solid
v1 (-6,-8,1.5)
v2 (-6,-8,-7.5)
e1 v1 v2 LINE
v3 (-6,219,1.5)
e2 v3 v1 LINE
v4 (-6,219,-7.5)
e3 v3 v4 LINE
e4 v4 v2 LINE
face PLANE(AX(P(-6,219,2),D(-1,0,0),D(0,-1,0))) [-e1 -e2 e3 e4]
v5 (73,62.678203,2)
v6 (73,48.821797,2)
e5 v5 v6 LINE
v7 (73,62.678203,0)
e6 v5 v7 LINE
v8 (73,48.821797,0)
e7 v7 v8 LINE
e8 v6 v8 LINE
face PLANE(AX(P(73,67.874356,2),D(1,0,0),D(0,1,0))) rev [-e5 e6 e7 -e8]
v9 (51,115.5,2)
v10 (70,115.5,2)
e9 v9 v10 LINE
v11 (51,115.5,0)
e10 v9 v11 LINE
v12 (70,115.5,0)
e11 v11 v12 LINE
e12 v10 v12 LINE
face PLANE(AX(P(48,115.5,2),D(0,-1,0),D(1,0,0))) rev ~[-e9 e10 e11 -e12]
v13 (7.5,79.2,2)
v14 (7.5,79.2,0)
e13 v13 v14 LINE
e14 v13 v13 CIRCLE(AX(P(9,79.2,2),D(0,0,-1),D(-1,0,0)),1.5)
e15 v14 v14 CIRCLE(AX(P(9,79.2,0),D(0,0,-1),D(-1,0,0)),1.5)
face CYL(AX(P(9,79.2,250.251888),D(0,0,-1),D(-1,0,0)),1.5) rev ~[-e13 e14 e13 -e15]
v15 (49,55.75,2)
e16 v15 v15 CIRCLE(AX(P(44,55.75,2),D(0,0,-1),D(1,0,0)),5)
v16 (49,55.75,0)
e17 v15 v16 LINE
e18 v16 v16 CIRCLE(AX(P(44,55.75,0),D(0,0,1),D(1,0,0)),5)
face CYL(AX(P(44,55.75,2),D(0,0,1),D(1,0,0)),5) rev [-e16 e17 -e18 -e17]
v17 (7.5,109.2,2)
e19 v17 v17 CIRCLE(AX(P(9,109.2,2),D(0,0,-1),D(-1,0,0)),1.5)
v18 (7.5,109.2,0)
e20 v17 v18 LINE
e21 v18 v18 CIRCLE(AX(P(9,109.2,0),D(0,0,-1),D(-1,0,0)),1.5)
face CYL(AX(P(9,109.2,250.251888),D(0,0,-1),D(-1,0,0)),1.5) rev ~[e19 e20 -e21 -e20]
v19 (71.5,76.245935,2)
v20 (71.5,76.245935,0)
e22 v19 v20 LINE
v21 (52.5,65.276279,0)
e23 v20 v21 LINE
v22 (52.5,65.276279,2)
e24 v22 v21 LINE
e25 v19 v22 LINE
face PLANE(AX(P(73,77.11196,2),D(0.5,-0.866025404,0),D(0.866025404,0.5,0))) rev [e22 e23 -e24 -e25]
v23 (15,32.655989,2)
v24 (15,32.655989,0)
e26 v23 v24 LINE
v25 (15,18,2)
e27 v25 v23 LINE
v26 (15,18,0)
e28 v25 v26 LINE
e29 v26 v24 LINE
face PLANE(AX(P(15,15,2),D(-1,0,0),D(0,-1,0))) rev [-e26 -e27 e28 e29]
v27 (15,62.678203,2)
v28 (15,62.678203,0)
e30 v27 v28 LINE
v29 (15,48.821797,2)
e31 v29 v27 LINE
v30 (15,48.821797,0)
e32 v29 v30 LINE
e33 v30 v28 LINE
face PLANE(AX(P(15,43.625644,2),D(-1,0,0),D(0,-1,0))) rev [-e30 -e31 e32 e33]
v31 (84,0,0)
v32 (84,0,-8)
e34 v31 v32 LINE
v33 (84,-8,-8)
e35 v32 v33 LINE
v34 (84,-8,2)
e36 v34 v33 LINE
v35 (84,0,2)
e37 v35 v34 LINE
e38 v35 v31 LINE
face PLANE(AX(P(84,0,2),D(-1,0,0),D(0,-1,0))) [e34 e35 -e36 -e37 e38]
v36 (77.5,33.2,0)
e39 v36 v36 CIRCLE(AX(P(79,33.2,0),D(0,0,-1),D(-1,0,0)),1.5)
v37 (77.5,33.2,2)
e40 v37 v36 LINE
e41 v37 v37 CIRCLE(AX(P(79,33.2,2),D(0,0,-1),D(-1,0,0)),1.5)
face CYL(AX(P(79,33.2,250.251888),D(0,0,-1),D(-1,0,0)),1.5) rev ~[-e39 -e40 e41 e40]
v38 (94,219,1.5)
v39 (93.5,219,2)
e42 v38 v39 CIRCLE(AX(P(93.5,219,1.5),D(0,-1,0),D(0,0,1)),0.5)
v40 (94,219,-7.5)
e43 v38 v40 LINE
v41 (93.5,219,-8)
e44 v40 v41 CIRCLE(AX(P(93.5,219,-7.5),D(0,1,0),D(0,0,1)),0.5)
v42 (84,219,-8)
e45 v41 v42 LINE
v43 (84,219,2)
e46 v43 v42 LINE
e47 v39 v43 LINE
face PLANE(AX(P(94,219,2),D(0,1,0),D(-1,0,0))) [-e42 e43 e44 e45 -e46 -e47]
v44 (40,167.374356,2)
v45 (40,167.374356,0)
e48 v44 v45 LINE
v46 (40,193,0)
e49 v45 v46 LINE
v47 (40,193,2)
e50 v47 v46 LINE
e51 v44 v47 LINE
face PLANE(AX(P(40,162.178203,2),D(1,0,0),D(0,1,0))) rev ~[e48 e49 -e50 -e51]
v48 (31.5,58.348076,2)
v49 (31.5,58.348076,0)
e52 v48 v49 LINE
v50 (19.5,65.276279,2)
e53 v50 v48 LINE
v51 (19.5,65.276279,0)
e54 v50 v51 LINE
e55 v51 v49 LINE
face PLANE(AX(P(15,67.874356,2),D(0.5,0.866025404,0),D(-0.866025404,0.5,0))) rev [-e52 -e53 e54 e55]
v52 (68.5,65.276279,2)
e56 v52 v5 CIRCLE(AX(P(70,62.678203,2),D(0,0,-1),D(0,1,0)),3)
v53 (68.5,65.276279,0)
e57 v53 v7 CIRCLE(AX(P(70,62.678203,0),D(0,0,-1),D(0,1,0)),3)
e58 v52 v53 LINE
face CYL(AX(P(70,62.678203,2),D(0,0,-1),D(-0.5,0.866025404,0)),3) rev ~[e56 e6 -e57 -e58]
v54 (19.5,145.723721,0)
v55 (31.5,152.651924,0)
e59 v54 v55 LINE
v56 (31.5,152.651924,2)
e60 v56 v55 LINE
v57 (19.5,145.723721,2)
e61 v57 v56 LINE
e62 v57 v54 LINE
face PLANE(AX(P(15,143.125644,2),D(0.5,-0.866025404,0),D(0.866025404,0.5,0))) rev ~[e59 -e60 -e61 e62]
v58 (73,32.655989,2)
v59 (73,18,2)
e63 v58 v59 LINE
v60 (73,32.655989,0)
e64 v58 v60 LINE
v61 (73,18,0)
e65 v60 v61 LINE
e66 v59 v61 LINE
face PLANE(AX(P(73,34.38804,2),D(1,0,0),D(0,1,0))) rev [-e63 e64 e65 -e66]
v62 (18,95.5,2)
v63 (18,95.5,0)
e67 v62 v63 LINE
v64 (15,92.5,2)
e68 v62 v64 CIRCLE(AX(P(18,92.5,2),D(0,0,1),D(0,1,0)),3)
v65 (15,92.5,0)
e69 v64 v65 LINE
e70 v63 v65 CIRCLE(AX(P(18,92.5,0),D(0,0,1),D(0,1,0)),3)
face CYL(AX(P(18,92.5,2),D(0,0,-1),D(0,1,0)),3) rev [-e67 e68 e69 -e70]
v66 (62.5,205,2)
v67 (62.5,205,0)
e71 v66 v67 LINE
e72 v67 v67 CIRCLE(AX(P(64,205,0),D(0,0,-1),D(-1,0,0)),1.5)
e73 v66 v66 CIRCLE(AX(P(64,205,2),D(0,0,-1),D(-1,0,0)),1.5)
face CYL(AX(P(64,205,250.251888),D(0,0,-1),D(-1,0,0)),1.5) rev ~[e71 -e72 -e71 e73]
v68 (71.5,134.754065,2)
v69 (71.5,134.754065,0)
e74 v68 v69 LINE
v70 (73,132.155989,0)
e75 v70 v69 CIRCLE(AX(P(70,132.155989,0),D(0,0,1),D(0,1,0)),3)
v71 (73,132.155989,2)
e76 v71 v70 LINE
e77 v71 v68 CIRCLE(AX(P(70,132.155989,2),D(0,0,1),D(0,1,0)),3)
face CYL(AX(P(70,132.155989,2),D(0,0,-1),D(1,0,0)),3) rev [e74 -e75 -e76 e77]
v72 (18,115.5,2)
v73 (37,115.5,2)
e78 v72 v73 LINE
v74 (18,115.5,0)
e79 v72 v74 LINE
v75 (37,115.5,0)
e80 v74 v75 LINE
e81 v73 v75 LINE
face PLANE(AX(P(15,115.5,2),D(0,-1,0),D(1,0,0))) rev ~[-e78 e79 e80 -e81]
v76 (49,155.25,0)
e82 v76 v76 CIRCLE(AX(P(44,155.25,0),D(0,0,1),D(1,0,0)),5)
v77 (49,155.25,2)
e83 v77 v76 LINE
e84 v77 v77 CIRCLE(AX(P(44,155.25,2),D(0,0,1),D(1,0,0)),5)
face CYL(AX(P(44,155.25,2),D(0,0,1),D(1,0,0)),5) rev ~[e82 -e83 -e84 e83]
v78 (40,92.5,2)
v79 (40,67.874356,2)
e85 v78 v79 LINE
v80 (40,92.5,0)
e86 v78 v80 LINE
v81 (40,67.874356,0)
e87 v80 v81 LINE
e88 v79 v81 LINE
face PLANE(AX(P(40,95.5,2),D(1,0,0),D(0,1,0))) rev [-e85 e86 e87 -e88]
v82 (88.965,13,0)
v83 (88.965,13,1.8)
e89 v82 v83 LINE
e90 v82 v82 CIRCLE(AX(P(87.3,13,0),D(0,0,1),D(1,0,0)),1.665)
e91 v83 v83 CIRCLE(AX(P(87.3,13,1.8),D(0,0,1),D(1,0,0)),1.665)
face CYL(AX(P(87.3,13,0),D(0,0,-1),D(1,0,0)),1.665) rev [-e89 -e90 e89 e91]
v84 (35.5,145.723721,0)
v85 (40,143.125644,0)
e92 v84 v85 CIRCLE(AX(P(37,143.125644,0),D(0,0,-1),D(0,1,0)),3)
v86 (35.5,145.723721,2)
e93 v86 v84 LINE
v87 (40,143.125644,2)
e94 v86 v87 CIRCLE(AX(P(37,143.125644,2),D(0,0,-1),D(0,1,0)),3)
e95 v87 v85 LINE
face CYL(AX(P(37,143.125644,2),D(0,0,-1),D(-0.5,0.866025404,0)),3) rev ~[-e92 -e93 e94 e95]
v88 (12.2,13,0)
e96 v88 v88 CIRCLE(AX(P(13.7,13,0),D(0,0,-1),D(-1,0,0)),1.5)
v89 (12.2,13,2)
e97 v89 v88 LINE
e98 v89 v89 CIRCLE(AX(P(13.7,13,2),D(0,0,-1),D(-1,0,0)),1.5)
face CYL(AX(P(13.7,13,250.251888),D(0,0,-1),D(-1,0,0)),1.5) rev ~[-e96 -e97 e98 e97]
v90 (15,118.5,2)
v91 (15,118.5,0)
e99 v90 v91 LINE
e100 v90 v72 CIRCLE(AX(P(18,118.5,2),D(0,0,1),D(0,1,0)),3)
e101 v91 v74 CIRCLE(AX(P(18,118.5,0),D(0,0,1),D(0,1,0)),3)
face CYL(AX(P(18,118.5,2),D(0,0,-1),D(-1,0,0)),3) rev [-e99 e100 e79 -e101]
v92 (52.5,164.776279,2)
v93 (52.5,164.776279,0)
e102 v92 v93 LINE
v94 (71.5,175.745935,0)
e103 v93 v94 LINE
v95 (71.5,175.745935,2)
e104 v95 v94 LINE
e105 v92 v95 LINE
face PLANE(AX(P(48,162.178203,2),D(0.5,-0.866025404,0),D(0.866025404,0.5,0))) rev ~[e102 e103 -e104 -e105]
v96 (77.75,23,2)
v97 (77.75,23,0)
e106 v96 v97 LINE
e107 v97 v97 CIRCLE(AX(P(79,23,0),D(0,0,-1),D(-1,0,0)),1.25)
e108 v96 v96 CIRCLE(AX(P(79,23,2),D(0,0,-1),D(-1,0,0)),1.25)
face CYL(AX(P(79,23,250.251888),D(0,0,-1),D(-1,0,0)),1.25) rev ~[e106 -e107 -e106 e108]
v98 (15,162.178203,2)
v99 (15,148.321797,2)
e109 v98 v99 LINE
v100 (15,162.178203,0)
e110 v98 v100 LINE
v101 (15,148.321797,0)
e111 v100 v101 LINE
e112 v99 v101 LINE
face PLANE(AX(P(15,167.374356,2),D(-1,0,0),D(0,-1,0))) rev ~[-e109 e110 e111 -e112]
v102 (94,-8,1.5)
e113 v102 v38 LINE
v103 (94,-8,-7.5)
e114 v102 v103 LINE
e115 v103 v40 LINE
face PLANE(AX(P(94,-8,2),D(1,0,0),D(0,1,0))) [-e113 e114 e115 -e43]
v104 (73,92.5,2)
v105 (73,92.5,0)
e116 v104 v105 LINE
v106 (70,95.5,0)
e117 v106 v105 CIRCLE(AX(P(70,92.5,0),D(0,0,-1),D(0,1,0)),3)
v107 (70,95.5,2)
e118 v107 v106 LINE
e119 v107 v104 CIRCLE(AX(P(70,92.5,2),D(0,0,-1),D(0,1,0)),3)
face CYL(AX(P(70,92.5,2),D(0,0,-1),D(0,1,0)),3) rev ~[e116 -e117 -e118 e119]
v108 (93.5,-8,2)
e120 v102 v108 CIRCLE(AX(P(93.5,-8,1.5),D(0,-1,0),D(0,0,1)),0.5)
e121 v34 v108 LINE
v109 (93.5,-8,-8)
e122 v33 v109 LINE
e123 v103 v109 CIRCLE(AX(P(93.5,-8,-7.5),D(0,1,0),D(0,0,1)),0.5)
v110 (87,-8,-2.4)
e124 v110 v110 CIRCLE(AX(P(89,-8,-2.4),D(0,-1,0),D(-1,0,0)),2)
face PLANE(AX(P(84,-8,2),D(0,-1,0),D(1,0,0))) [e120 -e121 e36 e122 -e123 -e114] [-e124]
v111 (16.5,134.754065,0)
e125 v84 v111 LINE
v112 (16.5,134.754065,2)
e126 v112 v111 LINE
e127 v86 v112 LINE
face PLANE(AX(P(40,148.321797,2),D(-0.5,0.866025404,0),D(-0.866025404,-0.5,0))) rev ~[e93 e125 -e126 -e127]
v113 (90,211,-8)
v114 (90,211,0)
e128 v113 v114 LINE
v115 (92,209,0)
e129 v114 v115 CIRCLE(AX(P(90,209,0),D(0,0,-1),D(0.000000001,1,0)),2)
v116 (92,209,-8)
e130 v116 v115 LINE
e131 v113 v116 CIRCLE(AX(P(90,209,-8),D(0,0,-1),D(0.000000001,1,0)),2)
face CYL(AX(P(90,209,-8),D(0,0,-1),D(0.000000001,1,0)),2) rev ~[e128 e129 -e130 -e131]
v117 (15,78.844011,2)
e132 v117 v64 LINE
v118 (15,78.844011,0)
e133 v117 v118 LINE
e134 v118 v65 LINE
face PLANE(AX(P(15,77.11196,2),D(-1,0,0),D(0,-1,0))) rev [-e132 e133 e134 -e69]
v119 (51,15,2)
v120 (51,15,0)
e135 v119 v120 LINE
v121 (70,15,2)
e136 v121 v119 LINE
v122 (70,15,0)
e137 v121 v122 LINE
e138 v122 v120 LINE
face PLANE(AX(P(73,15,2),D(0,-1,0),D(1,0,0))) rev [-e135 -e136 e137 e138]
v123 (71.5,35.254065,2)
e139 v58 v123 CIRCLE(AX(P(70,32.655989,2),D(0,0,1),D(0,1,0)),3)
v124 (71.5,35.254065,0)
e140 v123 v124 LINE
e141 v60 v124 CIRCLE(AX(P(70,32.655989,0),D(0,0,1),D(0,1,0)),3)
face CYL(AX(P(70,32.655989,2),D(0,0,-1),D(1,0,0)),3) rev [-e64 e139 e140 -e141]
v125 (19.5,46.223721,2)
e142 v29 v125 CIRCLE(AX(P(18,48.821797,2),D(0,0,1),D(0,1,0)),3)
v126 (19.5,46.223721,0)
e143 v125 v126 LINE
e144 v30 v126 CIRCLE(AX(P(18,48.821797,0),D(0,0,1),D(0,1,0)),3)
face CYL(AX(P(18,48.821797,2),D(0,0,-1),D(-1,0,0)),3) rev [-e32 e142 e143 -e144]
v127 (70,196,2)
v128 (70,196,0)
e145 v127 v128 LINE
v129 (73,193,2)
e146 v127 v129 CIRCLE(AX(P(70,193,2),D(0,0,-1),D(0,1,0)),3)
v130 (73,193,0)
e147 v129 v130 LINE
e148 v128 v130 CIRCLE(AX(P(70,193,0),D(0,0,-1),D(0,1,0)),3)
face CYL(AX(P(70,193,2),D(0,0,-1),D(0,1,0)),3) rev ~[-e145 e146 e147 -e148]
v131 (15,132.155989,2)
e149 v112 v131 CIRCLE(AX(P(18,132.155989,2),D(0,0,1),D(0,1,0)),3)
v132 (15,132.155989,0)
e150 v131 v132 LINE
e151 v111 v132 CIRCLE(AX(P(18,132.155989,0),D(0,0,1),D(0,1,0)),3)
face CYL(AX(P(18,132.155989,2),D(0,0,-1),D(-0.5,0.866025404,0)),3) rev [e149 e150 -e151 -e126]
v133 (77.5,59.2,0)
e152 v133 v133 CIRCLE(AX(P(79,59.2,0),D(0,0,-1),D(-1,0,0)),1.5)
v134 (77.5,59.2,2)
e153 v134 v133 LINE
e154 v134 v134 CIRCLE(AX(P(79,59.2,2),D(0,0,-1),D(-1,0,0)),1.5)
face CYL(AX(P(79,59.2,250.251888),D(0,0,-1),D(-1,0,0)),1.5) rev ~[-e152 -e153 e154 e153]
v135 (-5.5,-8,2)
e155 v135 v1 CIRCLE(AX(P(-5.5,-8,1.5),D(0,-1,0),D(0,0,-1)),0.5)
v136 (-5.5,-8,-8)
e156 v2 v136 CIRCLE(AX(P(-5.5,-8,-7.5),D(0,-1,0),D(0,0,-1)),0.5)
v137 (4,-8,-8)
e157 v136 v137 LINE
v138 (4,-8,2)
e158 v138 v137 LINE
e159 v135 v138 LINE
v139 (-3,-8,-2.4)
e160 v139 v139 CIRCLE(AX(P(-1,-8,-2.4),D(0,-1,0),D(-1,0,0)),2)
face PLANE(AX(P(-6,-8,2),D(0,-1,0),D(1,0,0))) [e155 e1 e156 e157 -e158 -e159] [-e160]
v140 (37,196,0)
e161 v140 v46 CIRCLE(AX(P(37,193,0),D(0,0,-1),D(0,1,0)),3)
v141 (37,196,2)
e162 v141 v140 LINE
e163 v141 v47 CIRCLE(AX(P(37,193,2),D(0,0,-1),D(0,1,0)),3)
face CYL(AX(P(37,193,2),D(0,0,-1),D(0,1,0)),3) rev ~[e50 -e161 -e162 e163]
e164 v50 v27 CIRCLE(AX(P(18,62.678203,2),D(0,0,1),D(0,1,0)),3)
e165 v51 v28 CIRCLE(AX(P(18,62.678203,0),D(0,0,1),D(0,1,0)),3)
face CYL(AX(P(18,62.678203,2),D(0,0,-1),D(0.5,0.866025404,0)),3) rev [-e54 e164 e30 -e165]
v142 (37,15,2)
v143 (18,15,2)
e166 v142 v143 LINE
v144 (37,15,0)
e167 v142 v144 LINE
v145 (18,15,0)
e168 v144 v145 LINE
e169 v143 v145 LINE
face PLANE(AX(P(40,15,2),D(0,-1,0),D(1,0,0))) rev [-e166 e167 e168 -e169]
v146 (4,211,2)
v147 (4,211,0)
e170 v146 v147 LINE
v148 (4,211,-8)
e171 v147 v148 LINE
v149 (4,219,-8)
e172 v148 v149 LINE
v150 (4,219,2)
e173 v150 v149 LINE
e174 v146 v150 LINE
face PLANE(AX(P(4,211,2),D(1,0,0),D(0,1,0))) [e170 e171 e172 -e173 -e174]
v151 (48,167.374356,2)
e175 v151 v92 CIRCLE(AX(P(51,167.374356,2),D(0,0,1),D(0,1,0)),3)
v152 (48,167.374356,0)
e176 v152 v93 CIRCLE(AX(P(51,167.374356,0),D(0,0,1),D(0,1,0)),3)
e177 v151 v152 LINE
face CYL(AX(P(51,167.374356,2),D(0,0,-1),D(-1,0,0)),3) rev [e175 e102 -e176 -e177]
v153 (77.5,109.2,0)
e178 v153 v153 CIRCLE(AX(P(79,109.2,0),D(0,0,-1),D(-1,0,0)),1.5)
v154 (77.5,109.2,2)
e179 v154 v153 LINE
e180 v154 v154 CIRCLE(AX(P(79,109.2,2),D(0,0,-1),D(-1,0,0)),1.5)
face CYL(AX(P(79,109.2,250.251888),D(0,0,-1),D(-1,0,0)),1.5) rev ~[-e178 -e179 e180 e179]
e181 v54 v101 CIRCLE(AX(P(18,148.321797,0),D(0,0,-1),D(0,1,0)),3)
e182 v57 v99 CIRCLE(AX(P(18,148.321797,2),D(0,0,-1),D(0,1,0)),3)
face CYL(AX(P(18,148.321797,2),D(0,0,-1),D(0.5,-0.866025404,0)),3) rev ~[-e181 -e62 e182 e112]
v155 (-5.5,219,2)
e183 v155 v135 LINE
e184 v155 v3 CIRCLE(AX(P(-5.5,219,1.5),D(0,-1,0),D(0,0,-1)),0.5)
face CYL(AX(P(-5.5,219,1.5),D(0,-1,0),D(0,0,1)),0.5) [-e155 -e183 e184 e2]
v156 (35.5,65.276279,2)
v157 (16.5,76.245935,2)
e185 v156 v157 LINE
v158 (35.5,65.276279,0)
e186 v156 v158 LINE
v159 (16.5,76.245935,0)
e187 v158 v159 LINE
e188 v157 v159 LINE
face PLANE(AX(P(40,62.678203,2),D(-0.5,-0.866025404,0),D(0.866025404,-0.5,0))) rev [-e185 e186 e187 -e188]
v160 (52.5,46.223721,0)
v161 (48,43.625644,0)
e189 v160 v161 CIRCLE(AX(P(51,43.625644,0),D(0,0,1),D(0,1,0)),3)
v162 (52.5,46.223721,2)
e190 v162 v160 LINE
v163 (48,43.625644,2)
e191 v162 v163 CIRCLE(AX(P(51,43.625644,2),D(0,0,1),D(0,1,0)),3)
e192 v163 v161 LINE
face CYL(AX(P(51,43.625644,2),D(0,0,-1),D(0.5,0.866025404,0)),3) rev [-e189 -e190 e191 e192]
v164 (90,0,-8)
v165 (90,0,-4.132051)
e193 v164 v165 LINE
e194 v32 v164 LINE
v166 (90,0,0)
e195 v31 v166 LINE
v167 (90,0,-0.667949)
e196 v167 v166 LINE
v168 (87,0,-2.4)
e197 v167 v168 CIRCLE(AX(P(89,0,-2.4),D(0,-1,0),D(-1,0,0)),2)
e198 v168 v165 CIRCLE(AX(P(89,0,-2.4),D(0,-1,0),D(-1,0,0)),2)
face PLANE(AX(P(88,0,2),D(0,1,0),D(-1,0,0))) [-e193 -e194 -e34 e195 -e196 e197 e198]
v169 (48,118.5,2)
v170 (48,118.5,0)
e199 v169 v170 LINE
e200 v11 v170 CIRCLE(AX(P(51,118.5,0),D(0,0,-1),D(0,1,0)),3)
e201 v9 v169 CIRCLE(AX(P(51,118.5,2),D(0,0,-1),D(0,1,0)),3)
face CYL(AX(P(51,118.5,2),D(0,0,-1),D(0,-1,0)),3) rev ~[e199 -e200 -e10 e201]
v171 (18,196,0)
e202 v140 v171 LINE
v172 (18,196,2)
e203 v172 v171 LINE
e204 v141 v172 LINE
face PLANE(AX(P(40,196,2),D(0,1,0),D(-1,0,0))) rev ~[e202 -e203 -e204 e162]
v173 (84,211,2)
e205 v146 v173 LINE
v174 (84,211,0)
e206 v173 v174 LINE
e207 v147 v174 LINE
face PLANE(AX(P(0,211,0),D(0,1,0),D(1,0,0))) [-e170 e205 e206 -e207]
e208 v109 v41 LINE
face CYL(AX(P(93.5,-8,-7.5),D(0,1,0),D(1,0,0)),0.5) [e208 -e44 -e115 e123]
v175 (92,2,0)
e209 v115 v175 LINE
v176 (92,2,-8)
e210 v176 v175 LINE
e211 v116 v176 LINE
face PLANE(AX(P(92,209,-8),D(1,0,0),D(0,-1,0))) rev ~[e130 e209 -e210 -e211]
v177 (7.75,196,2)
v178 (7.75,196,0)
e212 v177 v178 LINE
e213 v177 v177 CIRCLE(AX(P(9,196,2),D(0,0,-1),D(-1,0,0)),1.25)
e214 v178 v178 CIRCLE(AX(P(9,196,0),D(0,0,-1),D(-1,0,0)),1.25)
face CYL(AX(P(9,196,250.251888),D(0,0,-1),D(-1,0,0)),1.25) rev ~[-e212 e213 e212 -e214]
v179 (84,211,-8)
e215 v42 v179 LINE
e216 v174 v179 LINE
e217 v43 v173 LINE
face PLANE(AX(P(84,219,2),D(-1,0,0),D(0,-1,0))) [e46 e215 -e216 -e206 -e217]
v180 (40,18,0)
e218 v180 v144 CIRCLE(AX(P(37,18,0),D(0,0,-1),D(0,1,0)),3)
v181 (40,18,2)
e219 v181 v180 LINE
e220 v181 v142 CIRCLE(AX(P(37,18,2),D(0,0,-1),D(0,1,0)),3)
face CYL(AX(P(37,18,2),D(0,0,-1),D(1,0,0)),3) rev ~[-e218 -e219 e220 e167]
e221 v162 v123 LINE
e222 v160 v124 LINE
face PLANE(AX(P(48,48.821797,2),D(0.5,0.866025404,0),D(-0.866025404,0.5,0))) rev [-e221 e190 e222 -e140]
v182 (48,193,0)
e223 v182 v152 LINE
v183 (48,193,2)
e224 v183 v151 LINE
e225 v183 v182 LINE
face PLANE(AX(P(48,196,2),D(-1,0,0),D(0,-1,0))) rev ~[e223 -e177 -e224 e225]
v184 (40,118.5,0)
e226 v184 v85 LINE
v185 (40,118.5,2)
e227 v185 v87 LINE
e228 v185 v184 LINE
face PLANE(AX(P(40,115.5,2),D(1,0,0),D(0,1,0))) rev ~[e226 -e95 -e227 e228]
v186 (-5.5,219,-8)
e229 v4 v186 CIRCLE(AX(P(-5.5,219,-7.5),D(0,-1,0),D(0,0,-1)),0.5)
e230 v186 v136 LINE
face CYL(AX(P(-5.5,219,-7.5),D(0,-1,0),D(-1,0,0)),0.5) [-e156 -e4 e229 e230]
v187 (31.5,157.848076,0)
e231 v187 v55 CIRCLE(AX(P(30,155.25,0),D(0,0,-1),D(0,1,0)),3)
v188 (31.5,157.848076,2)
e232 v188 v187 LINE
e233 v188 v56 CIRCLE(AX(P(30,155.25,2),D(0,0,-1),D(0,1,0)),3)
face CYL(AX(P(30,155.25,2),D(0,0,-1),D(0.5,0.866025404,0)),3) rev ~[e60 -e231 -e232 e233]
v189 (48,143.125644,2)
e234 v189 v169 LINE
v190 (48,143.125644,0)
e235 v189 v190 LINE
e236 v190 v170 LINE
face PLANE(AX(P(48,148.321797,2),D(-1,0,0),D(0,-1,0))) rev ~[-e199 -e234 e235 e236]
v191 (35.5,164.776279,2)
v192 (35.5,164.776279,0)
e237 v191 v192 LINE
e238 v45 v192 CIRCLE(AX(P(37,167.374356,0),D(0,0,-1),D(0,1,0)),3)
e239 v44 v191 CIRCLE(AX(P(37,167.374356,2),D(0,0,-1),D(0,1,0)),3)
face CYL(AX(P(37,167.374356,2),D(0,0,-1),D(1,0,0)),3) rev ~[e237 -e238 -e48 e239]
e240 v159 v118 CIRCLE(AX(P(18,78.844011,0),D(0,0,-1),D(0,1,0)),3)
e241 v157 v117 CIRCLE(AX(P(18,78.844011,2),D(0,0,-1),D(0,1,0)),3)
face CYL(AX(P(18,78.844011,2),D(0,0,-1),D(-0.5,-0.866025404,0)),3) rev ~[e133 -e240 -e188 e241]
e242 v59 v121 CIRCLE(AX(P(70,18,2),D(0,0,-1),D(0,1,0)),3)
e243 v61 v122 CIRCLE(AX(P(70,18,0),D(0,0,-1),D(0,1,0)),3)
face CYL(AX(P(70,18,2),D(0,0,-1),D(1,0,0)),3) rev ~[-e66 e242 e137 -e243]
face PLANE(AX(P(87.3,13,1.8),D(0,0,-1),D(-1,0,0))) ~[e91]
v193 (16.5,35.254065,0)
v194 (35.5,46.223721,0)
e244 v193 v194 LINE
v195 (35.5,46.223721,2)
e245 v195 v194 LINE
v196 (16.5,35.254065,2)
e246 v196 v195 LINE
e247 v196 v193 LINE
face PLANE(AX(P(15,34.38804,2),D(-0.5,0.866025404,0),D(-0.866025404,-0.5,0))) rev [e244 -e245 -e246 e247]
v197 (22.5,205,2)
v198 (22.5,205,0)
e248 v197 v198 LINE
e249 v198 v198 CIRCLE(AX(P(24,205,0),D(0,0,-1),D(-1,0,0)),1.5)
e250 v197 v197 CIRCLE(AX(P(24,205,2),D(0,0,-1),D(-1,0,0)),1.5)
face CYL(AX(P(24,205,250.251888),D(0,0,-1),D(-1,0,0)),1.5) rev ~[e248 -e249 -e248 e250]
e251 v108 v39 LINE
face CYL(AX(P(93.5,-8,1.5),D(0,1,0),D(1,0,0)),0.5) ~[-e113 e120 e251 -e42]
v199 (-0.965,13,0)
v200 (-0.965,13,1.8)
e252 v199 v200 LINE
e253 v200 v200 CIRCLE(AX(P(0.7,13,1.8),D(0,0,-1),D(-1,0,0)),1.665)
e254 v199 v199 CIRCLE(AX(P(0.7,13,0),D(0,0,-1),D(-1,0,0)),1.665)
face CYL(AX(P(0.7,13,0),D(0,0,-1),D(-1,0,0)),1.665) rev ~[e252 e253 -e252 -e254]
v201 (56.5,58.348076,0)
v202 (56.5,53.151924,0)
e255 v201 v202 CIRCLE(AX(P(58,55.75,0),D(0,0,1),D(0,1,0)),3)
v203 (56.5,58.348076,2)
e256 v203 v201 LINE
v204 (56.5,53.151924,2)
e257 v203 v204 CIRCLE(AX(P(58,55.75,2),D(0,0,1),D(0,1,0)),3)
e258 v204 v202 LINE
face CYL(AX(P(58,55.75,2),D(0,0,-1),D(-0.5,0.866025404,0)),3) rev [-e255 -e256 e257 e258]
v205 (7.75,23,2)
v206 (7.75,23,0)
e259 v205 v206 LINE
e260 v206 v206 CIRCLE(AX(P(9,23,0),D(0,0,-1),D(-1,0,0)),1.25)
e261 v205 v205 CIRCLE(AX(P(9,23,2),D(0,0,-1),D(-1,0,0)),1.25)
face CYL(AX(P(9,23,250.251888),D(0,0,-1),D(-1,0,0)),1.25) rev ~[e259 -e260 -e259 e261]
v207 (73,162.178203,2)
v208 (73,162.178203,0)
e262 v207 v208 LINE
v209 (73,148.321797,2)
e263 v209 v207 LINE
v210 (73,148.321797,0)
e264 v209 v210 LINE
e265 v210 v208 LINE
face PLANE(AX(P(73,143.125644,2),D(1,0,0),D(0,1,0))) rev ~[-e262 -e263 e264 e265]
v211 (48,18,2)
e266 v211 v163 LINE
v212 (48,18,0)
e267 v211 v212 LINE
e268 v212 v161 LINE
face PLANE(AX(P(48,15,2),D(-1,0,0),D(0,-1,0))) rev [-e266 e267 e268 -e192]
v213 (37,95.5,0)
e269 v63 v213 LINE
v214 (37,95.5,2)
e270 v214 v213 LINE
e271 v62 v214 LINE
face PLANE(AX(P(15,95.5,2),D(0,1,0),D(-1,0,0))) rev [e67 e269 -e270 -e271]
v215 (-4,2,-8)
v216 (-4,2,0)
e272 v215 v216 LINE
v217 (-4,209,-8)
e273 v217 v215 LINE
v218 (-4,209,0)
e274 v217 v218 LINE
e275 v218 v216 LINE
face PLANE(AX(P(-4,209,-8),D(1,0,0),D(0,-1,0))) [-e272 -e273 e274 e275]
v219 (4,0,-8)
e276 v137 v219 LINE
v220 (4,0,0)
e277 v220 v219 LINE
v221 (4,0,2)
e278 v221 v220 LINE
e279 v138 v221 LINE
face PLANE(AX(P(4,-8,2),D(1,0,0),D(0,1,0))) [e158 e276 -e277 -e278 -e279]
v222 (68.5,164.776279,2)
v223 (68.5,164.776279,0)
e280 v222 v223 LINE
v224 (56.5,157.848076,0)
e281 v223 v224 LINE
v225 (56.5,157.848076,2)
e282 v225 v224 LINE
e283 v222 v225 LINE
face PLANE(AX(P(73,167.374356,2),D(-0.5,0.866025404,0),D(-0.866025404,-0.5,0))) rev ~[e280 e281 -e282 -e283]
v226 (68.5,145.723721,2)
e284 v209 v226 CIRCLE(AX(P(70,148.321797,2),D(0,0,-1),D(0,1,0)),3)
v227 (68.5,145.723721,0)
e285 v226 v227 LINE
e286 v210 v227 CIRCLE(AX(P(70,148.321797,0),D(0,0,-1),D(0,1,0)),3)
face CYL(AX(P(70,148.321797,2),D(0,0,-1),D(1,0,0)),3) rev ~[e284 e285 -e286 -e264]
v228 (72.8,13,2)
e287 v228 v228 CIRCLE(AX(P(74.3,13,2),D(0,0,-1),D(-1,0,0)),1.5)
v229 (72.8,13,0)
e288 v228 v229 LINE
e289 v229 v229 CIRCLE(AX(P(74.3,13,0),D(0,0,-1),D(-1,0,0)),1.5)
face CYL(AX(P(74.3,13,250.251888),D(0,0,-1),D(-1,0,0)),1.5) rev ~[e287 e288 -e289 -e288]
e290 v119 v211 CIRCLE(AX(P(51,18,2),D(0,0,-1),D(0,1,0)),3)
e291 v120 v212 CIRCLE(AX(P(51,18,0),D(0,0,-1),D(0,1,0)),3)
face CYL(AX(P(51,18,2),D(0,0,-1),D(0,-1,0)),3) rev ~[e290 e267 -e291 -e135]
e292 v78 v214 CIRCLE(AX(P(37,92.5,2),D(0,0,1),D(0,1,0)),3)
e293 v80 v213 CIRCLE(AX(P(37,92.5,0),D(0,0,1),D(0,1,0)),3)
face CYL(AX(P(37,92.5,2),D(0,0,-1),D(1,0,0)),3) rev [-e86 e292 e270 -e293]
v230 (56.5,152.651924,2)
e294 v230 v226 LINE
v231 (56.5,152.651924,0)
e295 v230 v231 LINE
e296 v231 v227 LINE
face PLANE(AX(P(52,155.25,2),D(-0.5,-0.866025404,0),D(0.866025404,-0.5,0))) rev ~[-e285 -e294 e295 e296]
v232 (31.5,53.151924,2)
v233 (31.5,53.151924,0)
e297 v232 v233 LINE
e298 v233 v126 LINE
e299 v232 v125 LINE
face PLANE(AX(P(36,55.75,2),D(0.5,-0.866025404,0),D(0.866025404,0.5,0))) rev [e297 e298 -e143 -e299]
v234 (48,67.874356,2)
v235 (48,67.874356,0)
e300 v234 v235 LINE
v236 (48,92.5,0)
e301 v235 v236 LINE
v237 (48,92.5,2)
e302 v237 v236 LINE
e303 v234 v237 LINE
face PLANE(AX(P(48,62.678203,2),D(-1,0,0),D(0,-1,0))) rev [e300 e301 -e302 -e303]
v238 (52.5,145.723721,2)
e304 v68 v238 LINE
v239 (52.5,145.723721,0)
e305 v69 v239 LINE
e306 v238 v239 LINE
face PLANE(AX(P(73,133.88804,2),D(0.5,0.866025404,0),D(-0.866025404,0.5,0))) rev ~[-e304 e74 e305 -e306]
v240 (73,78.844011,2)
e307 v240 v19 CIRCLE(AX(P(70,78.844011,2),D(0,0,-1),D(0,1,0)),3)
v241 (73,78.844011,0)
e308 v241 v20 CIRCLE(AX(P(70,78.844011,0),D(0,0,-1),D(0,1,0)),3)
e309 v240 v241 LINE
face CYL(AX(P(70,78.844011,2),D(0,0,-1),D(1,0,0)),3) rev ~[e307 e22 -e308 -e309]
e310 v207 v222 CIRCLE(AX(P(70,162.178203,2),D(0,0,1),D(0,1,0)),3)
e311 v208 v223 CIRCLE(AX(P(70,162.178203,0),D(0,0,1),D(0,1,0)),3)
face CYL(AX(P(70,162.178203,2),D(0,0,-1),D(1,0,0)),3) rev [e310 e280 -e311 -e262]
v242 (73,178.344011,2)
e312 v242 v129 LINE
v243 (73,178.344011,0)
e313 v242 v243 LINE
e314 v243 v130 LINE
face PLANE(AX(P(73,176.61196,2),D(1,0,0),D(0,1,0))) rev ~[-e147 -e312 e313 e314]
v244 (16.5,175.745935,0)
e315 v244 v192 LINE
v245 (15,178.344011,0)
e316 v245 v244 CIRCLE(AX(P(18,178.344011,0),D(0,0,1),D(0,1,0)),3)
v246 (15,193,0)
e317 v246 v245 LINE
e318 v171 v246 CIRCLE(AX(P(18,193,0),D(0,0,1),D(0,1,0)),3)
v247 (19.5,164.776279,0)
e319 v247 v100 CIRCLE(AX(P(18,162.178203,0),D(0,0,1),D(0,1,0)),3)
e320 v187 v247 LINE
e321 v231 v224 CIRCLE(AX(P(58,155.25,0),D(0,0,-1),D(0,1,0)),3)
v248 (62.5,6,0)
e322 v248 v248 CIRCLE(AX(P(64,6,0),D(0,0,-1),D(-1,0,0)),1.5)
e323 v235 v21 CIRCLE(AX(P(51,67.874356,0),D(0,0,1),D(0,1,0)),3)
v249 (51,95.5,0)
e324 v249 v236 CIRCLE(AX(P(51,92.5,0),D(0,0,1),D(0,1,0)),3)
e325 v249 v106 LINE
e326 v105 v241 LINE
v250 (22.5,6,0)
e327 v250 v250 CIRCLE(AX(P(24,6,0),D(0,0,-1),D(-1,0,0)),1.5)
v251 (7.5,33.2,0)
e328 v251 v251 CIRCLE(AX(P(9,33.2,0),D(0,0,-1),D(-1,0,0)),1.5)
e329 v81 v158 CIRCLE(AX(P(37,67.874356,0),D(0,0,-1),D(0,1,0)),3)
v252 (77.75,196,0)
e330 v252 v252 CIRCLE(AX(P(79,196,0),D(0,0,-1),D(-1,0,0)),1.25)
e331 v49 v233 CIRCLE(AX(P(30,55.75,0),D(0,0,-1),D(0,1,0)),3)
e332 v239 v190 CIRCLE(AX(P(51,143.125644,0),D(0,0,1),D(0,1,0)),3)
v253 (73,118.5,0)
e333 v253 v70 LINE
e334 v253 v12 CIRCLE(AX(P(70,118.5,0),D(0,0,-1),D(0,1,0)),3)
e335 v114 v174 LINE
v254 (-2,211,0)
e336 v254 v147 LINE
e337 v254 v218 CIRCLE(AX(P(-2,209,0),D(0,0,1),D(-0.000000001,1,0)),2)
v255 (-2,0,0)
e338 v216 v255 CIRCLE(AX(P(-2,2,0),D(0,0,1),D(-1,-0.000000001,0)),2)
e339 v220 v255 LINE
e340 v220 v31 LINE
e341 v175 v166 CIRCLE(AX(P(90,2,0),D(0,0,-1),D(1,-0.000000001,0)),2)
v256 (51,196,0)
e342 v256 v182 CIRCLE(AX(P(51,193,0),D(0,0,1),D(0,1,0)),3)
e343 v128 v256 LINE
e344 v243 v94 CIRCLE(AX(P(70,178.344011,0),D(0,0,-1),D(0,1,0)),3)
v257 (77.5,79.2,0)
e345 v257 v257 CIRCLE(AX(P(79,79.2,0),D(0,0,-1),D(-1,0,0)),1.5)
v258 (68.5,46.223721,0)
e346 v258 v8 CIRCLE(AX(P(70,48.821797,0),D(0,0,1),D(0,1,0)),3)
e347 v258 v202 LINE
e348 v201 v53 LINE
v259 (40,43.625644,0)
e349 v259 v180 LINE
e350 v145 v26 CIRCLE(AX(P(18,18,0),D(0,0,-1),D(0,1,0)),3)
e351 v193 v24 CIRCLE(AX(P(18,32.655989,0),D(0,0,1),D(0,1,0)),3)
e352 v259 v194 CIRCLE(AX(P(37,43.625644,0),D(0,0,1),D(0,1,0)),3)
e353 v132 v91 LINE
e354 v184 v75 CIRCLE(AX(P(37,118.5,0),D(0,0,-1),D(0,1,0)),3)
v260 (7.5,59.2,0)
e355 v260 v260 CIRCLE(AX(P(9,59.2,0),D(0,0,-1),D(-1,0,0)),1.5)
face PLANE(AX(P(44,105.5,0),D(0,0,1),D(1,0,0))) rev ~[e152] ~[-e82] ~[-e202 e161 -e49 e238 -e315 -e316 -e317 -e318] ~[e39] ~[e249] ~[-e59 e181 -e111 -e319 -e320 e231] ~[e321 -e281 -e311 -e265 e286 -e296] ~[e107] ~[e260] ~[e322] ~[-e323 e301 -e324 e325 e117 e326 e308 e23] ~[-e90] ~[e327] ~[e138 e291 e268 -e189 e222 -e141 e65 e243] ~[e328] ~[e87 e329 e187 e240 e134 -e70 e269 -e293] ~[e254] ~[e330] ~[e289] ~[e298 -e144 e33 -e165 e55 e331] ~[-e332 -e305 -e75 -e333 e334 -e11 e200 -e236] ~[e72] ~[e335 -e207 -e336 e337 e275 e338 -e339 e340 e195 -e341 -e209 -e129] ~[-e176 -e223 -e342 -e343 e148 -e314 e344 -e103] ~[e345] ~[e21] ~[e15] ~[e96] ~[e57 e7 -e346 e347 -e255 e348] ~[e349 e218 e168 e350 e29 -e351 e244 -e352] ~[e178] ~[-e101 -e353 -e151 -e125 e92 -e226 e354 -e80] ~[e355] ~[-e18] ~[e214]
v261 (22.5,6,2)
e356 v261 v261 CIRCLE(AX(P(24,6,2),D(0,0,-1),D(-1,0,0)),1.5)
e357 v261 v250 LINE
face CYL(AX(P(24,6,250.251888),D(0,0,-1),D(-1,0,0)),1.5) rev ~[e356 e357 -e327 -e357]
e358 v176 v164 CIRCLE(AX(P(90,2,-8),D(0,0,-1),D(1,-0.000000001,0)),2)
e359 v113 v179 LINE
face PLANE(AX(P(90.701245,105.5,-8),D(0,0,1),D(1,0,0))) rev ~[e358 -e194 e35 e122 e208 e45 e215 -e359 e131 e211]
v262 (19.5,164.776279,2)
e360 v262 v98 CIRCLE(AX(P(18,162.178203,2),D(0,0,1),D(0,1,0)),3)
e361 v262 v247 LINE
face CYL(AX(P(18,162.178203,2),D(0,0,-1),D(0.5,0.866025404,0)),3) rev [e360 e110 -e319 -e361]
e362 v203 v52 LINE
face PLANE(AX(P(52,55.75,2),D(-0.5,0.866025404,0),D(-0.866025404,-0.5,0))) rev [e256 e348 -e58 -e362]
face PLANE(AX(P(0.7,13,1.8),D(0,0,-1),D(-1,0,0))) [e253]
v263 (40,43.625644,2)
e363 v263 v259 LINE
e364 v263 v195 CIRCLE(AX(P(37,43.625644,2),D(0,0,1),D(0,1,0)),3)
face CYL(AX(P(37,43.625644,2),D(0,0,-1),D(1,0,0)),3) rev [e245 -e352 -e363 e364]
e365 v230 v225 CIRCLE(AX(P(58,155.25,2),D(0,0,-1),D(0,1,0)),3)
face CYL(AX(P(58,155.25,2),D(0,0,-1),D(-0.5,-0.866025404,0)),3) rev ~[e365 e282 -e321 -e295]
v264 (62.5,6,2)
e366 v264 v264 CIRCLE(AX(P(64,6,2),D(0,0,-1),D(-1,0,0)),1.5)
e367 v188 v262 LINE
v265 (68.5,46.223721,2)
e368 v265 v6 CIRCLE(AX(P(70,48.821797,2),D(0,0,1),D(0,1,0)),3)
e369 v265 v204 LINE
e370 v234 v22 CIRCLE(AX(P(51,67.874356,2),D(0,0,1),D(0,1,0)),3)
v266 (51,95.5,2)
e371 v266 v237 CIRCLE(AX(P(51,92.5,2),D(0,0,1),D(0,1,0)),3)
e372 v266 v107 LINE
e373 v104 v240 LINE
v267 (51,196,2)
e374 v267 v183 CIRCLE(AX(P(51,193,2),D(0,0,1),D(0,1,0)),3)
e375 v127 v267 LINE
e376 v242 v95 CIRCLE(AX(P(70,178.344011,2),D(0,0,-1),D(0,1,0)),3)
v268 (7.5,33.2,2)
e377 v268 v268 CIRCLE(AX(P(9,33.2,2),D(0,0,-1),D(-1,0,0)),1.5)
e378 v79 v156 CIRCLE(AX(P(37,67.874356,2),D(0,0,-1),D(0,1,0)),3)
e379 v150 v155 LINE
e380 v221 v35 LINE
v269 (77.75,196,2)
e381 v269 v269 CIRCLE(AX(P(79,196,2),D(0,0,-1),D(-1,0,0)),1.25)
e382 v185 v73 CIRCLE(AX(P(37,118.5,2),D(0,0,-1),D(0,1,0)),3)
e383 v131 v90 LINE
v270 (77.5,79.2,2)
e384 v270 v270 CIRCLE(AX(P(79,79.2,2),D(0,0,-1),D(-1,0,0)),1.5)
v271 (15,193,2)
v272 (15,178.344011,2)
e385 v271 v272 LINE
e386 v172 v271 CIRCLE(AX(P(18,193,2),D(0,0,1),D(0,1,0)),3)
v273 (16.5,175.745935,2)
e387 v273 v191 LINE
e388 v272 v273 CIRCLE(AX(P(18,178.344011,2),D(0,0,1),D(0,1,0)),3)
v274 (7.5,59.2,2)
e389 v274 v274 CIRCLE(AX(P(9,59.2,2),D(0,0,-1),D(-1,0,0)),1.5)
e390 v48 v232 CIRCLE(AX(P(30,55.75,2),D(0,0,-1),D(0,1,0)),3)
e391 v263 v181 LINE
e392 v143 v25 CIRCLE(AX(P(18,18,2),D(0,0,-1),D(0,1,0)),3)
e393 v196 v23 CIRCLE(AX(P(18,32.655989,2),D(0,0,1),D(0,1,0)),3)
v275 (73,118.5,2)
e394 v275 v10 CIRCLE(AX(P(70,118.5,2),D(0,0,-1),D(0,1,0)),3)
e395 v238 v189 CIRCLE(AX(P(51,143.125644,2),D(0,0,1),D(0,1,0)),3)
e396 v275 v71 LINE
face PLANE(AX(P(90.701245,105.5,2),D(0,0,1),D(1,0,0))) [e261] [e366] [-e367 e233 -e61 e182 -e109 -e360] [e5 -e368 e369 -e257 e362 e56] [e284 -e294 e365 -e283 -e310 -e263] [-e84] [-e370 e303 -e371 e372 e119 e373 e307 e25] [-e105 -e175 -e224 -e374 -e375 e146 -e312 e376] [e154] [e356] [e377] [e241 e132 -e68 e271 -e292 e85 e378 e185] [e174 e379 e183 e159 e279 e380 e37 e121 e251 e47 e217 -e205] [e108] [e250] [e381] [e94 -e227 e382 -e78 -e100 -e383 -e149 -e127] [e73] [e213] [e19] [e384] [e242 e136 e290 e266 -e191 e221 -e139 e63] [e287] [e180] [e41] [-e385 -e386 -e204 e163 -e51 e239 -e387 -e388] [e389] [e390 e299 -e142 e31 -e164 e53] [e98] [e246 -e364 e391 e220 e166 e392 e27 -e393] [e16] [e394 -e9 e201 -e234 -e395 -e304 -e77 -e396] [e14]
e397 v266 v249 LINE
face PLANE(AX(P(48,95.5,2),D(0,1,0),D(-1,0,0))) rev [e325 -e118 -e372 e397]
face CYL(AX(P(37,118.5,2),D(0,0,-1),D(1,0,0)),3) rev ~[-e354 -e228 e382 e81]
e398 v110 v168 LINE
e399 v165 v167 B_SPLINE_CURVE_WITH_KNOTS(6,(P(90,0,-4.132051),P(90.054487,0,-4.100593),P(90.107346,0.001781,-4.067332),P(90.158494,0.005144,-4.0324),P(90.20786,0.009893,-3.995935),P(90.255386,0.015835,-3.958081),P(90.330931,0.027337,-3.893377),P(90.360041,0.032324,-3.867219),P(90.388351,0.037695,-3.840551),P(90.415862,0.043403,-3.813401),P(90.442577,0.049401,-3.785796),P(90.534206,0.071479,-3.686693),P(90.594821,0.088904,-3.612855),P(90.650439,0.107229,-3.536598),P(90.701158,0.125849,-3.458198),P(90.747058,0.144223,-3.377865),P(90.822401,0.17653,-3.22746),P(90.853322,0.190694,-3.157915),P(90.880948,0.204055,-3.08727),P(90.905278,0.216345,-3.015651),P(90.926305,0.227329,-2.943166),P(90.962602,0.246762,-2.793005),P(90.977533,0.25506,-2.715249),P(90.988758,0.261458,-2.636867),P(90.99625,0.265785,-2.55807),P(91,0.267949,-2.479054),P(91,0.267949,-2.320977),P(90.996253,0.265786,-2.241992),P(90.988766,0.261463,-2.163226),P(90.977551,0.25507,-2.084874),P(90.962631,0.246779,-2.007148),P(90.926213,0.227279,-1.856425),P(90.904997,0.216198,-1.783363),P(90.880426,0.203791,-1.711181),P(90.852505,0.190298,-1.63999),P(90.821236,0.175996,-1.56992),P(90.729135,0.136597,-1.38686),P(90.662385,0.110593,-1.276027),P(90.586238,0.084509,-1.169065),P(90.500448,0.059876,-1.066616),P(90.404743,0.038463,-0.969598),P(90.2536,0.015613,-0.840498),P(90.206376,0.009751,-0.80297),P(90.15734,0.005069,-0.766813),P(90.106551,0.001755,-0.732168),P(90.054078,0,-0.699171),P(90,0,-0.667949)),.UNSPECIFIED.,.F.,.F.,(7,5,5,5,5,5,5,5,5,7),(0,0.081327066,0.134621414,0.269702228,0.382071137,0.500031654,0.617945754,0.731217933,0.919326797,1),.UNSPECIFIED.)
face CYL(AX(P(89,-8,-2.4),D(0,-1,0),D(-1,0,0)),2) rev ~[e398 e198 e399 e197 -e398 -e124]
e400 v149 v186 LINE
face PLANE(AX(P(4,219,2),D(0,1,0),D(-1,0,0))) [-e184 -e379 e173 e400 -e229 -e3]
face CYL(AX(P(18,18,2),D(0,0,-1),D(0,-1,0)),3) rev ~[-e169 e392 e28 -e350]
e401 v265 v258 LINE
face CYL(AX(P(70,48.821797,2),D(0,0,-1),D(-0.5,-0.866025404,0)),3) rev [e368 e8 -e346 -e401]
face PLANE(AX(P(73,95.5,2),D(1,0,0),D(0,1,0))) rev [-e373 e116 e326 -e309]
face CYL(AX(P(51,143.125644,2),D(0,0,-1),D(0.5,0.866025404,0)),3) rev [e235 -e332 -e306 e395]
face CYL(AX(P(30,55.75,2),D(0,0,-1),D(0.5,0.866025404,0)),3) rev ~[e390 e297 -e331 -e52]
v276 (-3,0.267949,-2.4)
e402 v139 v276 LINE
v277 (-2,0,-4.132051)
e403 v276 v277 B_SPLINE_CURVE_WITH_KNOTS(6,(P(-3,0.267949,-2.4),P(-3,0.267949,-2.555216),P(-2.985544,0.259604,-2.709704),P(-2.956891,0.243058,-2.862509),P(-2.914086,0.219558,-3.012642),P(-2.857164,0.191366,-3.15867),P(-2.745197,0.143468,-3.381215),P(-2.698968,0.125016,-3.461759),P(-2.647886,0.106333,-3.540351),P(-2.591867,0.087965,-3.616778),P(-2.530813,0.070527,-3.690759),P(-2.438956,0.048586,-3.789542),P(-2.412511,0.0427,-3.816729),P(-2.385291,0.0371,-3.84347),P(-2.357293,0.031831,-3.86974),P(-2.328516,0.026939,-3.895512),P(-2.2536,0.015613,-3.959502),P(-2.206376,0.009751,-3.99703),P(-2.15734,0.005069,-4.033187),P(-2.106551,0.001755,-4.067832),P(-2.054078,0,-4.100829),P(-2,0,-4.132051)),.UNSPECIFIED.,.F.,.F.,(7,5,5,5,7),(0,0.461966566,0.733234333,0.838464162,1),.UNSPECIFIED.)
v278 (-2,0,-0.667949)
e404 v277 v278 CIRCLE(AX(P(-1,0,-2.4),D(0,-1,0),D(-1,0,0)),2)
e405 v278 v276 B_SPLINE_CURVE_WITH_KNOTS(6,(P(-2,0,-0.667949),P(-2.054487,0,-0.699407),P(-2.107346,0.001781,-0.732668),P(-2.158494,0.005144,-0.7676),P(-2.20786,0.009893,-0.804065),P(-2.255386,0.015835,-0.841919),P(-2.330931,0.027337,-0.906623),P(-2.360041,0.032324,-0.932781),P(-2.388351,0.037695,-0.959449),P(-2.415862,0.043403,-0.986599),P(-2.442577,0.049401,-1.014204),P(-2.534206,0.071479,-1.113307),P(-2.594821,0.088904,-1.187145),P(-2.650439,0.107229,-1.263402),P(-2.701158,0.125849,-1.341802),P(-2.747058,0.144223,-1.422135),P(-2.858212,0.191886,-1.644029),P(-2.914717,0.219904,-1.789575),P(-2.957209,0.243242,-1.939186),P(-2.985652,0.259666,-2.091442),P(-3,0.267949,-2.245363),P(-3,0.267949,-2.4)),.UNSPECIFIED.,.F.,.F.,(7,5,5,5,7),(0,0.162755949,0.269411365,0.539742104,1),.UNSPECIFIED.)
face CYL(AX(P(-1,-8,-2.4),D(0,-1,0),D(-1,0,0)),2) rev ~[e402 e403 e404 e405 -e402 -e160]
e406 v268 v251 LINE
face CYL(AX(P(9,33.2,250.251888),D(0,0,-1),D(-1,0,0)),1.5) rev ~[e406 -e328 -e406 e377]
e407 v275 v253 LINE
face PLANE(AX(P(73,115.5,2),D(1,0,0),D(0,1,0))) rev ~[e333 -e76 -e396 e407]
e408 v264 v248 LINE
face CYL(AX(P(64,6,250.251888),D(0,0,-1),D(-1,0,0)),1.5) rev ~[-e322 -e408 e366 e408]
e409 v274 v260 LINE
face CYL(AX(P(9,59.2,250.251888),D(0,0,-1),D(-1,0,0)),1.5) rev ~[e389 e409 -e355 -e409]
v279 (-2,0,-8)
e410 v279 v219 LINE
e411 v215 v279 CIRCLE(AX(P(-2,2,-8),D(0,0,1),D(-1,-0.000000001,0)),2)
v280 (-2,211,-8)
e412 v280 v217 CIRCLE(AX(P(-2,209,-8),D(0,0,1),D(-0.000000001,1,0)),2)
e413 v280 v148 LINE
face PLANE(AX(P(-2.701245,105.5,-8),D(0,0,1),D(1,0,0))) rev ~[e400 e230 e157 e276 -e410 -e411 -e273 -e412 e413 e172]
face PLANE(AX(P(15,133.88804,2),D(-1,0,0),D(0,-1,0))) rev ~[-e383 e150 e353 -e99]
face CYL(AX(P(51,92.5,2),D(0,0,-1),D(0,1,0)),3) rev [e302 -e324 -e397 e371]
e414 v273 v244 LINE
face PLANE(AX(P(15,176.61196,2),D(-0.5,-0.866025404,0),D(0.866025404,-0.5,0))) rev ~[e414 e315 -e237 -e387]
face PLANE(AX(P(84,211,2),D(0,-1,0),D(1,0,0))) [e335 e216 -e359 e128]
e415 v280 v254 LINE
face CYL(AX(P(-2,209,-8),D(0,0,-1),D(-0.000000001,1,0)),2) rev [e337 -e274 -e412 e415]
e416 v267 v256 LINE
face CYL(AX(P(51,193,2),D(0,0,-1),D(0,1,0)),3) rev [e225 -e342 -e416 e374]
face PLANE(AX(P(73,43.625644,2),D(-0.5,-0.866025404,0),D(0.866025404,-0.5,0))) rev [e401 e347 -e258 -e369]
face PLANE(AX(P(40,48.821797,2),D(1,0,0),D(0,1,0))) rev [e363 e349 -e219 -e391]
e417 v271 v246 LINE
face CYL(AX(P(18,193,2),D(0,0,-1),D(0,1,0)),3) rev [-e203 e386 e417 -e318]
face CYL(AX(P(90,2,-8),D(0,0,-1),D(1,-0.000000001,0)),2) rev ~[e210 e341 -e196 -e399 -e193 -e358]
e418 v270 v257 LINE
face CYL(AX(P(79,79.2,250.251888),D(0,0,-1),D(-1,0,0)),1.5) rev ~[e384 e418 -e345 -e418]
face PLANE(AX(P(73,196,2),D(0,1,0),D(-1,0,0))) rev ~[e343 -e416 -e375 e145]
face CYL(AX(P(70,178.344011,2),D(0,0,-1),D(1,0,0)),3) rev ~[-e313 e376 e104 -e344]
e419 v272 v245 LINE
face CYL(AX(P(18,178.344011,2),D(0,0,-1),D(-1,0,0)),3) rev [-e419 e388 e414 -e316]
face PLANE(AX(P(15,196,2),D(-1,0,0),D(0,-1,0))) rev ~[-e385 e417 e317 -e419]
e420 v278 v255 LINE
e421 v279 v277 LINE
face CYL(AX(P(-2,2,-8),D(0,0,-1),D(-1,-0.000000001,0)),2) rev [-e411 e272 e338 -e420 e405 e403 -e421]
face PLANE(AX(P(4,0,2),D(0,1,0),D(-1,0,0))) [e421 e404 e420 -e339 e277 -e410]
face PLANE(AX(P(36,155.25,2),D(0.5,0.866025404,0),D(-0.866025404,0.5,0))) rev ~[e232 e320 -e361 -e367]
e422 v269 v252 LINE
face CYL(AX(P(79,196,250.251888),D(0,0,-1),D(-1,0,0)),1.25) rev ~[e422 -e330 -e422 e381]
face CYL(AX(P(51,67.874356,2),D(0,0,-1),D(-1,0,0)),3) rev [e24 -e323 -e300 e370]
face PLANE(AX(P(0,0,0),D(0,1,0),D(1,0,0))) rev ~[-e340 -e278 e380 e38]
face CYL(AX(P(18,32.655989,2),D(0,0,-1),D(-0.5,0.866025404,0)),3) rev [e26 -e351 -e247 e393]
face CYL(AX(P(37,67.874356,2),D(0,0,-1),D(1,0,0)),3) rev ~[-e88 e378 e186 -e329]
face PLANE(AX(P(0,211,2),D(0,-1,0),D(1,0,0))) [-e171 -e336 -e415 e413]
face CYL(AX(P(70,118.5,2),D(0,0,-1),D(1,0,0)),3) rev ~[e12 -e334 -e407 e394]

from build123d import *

# Parameters (mm, degrees)
SKETCH1_W                   = 88
SKETCH1_H                   = 211
BOSS_EXTRUDE1_DEPTH         = 2
CUT_EXTRUDE2_DEPTH          = 2
SKETCH4_R                   = 5
CUT_EXTRUDE3_DEPTH          = 3
FILLET2_R                   = 3
BOSS_EXTRUDE2_DEPTH         = 10
CUT_EXTRUDE5_DEPTH          = 8
SKETCH58_R                  = 1.665
CUT_EXTRUDE9_DEPTH          = 1.8
SKETCH59_R                  = 2
CUT_EXTRUDE10_DEPTH         = 10
FILLET3_R                   = 0.5
F_3_0MM_DOWEL_HOLE1_D       = 3
TAP_DRILL_FOR_M3X0_5_TAP1_D = 2.5


with BuildPart() as part:
    # Sketch1 → Boss-Extrude1 (new body)
    with BuildSketch(Plane.XY):
        with Locations((44, 105.5)):
            Rectangle(SKETCH1_W, SKETCH1_H)
    extrude(amount=BOSS_EXTRUDE1_DEPTH)

    # Sketch3 → Cut-Extrude2 (cut)
    with BuildSketch(Plane.XY.offset(2)):
        Polygon((73, 115.5), (73, 133.88804004), (48, 148.32179677), (48, 115.5), align=None)
        Polygon((40, 148.32179677), (15, 133.88804004), (15, 115.5), (40, 115.5), align=None)
        Polygon((36, 155.25), (15, 167.374355653), (15, 143.125644347), align=None)
        Polygon((73, 143.125644347), (73, 167.374355653), (52, 155.25), align=None)
        Polygon((73, 196), (48, 196), (48, 162.17820323), (73, 176.61195996), align=None)
        Polygon((40, 196), (15, 196), (15, 176.61195996), (40, 162.17820323), align=None)
    cut_extrude2 = extrude(amount=-CUT_EXTRUDE2_DEPTH, mode=Mode.SUBTRACT)

    # Sketch4 → Cut-Extrude3 (cut, through all)
    with BuildSketch(Plane.XY.offset(2)):
        with Locations((44, 155.25)):
            Circle(SKETCH4_R)
    cut_extrude3 = extrude(amount=-CUT_EXTRUDE3_DEPTH, mode=Mode.SUBTRACT)

    # Mirror2: Cut-Extrude2, Cut-Extrude3 across plane
    add(cut_extrude2.mirror(Plane(origin=(0, 105.5, 0), x_dir=(0, 0, 1), z_dir=(0, -1, 0))), mode=Mode.SUBTRACT)
    add(cut_extrude3.mirror(Plane(origin=(0, 105.5, 0), x_dir=(0, 0, 1), z_dir=(0, -1, 0))), mode=Mode.SUBTRACT)

    # Fillet2
    fillet2_edges = [part.edges().sort_by_distance(p)[0] for p in [
        (36, 55.75, 1),
        (15, 43.625644347, 1),
        (15, 67.874355653, 1),
        (40, 95.5, 1),
        (40, 62.67820323, 1),
        (15, 77.11195996, 1),
        (15, 95.5, 1),
        (48, 48.82179677, 1),
        (73, 34.38804004, 1),
        (73, 15, 1),
        (48, 15, 1),
        (73, 43.625644347, 1),
        (52, 55.75, 1),
        (73, 67.874355653, 1),
        (15, 15, 1),
        (15, 34.38804004, 1),
        (40, 48.82179677, 1),
        (40, 15, 1),
        (73, 77.11195996, 1),
        (48, 62.67820323, 1),
        (48, 95.5, 1),
        (73, 95.5, 1),
        (15, 167.374355653, 1),
        (36, 155.25, 1),
        (15, 143.125644347, 1),
        (40, 148.32179677, 1),
        (40, 115.5, 1),
        (15, 115.5, 1),
        (15, 133.88804004, 1),
        (73, 176.61195996, 1),
        (48, 162.17820323, 1),
        (48, 196, 1),
        (73, 196, 1),
        (52, 155.25, 1),
        (73, 167.374355653, 1),
        (73, 143.125644347, 1),
        (15, 176.61195996, 1),
        (15, 196, 1),
        (40, 196, 1),
        (40, 162.17820323, 1),
        (48, 148.32179677, 1),
        (73, 133.88804004, 1),
        (73, 115.5, 1),
        (48, 115.5, 1),
    ]]
    fillet(fillet2_edges, radius=FILLET2_R)

    # Sketch7 → Boss-Extrude2 (add)
    with BuildSketch(Plane.XY.offset(2)):
        Polygon((94, 219), (84, 219), (84, 211), (88, 211), (88, 0), (84, 0), (84, -8), (94, -8), align=None)
        Polygon((-6, -8), (4, -8), (4, 0), (0, 0), (0, 211), (4, 211), (4, 219), (-6, 219), align=None)
    extrude(amount=-BOSS_EXTRUDE2_DEPTH)

    # Sketch53 → Cut-Extrude5 (cut)
    with BuildSketch(Plane(origin=(0, 0, -8), x_dir=(-1, 0, 0), z_dir=(0, 0, -1))):
        with BuildLine():
            Line((-90, 0), (-88, 0))
            Line((-88, 0), (-88, 211))
            Line((-88, 211), (-90, 211))
            ThreePointArc((-90, 211), (-91.414213562, 210.414213562), (-92, 209))
            Line((-92, 209), (-92, 2))
            ThreePointArc((-92, 2), (-91.414213562, 0.585786438), (-90, 0))
        make_face()
        with BuildLine():
            Line((2, 0), (-4, 0))
            Line((-4, 0), (-4, 211))
            Line((-4, 211), (2, 211))
            ThreePointArc((2, 211), (3.414213562, 210.414213562), (4, 209))
            Line((4, 209), (4, 2))
            ThreePointArc((4, 2), (3.414213562, 0.585786438), (2, 0))
        make_face()
    extrude(amount=-CUT_EXTRUDE5_DEPTH, mode=Mode.SUBTRACT)

    # Sketch58 → Cut-Extrude9 (cut)
    with BuildSketch(Plane(origin=(0, 0, 0), x_dir=(-1, 0, 0), z_dir=(0, 0, -1))):
        with Locations((-0.7, 13)):
            Circle(SKETCH58_R)
    cut_extrude9 = extrude(amount=-CUT_EXTRUDE9_DEPTH, mode=Mode.SUBTRACT)

    # Mirror4: Cut-Extrude9 across plane
    add(cut_extrude9.mirror(Plane(origin=(44, 0, 0), x_dir=(0, 0, 1), z_dir=(1, 0, 0))), mode=Mode.SUBTRACT)

    # Sketch59 → Cut-Extrude10 (cut)
    with BuildSketch(Plane(origin=(0, -8, 0), x_dir=(-1, 0, 0), z_dir=(0, -1, 0))):
        with Locations((-89, 2.4)):
            Circle(SKETCH59_R)
        with Locations((1, 2.4)):
            Circle(SKETCH59_R)
    extrude(amount=-CUT_EXTRUDE10_DEPTH, mode=Mode.SUBTRACT)

    # Fillet3
    fillet3_edges = [part.edges().sort_by_distance(p)[0] for p in [
        (94, 105.5, -8),
        (94, 105.5, 2),
        (-6, 105.5, -8),
        (-6, 105.5, 2),
    ]]
    fillet(fillet3_edges, radius=FILLET3_R)

    # Ø3.0mm Dowel Hole1 (through all)
    with Locations(Plane.XY.offset(2)):
        with Locations((24, 205), (64, 205), (9, 109.2), (79, 109.2), (9, 79.2), (79, 79.2), (9, 59.2), (79, 59.2), (9, 33.2), (79, 33.2), (13.7, 13), (24, 6), (74.3, 13), (64, 6)):
            Hole(F_3_0MM_DOWEL_HOLE1_D / 2)

    # Tap Drill for M3x0.5 Tap1 (through all)
    with Locations(Plane.XY.offset(2)):
        with Locations((9, 196), (79, 196), (9, 23), (79, 23)):
            Hole(TAP_DRILL_FOR_M3X0_5_TAP1_D / 2)


solid = part.part
